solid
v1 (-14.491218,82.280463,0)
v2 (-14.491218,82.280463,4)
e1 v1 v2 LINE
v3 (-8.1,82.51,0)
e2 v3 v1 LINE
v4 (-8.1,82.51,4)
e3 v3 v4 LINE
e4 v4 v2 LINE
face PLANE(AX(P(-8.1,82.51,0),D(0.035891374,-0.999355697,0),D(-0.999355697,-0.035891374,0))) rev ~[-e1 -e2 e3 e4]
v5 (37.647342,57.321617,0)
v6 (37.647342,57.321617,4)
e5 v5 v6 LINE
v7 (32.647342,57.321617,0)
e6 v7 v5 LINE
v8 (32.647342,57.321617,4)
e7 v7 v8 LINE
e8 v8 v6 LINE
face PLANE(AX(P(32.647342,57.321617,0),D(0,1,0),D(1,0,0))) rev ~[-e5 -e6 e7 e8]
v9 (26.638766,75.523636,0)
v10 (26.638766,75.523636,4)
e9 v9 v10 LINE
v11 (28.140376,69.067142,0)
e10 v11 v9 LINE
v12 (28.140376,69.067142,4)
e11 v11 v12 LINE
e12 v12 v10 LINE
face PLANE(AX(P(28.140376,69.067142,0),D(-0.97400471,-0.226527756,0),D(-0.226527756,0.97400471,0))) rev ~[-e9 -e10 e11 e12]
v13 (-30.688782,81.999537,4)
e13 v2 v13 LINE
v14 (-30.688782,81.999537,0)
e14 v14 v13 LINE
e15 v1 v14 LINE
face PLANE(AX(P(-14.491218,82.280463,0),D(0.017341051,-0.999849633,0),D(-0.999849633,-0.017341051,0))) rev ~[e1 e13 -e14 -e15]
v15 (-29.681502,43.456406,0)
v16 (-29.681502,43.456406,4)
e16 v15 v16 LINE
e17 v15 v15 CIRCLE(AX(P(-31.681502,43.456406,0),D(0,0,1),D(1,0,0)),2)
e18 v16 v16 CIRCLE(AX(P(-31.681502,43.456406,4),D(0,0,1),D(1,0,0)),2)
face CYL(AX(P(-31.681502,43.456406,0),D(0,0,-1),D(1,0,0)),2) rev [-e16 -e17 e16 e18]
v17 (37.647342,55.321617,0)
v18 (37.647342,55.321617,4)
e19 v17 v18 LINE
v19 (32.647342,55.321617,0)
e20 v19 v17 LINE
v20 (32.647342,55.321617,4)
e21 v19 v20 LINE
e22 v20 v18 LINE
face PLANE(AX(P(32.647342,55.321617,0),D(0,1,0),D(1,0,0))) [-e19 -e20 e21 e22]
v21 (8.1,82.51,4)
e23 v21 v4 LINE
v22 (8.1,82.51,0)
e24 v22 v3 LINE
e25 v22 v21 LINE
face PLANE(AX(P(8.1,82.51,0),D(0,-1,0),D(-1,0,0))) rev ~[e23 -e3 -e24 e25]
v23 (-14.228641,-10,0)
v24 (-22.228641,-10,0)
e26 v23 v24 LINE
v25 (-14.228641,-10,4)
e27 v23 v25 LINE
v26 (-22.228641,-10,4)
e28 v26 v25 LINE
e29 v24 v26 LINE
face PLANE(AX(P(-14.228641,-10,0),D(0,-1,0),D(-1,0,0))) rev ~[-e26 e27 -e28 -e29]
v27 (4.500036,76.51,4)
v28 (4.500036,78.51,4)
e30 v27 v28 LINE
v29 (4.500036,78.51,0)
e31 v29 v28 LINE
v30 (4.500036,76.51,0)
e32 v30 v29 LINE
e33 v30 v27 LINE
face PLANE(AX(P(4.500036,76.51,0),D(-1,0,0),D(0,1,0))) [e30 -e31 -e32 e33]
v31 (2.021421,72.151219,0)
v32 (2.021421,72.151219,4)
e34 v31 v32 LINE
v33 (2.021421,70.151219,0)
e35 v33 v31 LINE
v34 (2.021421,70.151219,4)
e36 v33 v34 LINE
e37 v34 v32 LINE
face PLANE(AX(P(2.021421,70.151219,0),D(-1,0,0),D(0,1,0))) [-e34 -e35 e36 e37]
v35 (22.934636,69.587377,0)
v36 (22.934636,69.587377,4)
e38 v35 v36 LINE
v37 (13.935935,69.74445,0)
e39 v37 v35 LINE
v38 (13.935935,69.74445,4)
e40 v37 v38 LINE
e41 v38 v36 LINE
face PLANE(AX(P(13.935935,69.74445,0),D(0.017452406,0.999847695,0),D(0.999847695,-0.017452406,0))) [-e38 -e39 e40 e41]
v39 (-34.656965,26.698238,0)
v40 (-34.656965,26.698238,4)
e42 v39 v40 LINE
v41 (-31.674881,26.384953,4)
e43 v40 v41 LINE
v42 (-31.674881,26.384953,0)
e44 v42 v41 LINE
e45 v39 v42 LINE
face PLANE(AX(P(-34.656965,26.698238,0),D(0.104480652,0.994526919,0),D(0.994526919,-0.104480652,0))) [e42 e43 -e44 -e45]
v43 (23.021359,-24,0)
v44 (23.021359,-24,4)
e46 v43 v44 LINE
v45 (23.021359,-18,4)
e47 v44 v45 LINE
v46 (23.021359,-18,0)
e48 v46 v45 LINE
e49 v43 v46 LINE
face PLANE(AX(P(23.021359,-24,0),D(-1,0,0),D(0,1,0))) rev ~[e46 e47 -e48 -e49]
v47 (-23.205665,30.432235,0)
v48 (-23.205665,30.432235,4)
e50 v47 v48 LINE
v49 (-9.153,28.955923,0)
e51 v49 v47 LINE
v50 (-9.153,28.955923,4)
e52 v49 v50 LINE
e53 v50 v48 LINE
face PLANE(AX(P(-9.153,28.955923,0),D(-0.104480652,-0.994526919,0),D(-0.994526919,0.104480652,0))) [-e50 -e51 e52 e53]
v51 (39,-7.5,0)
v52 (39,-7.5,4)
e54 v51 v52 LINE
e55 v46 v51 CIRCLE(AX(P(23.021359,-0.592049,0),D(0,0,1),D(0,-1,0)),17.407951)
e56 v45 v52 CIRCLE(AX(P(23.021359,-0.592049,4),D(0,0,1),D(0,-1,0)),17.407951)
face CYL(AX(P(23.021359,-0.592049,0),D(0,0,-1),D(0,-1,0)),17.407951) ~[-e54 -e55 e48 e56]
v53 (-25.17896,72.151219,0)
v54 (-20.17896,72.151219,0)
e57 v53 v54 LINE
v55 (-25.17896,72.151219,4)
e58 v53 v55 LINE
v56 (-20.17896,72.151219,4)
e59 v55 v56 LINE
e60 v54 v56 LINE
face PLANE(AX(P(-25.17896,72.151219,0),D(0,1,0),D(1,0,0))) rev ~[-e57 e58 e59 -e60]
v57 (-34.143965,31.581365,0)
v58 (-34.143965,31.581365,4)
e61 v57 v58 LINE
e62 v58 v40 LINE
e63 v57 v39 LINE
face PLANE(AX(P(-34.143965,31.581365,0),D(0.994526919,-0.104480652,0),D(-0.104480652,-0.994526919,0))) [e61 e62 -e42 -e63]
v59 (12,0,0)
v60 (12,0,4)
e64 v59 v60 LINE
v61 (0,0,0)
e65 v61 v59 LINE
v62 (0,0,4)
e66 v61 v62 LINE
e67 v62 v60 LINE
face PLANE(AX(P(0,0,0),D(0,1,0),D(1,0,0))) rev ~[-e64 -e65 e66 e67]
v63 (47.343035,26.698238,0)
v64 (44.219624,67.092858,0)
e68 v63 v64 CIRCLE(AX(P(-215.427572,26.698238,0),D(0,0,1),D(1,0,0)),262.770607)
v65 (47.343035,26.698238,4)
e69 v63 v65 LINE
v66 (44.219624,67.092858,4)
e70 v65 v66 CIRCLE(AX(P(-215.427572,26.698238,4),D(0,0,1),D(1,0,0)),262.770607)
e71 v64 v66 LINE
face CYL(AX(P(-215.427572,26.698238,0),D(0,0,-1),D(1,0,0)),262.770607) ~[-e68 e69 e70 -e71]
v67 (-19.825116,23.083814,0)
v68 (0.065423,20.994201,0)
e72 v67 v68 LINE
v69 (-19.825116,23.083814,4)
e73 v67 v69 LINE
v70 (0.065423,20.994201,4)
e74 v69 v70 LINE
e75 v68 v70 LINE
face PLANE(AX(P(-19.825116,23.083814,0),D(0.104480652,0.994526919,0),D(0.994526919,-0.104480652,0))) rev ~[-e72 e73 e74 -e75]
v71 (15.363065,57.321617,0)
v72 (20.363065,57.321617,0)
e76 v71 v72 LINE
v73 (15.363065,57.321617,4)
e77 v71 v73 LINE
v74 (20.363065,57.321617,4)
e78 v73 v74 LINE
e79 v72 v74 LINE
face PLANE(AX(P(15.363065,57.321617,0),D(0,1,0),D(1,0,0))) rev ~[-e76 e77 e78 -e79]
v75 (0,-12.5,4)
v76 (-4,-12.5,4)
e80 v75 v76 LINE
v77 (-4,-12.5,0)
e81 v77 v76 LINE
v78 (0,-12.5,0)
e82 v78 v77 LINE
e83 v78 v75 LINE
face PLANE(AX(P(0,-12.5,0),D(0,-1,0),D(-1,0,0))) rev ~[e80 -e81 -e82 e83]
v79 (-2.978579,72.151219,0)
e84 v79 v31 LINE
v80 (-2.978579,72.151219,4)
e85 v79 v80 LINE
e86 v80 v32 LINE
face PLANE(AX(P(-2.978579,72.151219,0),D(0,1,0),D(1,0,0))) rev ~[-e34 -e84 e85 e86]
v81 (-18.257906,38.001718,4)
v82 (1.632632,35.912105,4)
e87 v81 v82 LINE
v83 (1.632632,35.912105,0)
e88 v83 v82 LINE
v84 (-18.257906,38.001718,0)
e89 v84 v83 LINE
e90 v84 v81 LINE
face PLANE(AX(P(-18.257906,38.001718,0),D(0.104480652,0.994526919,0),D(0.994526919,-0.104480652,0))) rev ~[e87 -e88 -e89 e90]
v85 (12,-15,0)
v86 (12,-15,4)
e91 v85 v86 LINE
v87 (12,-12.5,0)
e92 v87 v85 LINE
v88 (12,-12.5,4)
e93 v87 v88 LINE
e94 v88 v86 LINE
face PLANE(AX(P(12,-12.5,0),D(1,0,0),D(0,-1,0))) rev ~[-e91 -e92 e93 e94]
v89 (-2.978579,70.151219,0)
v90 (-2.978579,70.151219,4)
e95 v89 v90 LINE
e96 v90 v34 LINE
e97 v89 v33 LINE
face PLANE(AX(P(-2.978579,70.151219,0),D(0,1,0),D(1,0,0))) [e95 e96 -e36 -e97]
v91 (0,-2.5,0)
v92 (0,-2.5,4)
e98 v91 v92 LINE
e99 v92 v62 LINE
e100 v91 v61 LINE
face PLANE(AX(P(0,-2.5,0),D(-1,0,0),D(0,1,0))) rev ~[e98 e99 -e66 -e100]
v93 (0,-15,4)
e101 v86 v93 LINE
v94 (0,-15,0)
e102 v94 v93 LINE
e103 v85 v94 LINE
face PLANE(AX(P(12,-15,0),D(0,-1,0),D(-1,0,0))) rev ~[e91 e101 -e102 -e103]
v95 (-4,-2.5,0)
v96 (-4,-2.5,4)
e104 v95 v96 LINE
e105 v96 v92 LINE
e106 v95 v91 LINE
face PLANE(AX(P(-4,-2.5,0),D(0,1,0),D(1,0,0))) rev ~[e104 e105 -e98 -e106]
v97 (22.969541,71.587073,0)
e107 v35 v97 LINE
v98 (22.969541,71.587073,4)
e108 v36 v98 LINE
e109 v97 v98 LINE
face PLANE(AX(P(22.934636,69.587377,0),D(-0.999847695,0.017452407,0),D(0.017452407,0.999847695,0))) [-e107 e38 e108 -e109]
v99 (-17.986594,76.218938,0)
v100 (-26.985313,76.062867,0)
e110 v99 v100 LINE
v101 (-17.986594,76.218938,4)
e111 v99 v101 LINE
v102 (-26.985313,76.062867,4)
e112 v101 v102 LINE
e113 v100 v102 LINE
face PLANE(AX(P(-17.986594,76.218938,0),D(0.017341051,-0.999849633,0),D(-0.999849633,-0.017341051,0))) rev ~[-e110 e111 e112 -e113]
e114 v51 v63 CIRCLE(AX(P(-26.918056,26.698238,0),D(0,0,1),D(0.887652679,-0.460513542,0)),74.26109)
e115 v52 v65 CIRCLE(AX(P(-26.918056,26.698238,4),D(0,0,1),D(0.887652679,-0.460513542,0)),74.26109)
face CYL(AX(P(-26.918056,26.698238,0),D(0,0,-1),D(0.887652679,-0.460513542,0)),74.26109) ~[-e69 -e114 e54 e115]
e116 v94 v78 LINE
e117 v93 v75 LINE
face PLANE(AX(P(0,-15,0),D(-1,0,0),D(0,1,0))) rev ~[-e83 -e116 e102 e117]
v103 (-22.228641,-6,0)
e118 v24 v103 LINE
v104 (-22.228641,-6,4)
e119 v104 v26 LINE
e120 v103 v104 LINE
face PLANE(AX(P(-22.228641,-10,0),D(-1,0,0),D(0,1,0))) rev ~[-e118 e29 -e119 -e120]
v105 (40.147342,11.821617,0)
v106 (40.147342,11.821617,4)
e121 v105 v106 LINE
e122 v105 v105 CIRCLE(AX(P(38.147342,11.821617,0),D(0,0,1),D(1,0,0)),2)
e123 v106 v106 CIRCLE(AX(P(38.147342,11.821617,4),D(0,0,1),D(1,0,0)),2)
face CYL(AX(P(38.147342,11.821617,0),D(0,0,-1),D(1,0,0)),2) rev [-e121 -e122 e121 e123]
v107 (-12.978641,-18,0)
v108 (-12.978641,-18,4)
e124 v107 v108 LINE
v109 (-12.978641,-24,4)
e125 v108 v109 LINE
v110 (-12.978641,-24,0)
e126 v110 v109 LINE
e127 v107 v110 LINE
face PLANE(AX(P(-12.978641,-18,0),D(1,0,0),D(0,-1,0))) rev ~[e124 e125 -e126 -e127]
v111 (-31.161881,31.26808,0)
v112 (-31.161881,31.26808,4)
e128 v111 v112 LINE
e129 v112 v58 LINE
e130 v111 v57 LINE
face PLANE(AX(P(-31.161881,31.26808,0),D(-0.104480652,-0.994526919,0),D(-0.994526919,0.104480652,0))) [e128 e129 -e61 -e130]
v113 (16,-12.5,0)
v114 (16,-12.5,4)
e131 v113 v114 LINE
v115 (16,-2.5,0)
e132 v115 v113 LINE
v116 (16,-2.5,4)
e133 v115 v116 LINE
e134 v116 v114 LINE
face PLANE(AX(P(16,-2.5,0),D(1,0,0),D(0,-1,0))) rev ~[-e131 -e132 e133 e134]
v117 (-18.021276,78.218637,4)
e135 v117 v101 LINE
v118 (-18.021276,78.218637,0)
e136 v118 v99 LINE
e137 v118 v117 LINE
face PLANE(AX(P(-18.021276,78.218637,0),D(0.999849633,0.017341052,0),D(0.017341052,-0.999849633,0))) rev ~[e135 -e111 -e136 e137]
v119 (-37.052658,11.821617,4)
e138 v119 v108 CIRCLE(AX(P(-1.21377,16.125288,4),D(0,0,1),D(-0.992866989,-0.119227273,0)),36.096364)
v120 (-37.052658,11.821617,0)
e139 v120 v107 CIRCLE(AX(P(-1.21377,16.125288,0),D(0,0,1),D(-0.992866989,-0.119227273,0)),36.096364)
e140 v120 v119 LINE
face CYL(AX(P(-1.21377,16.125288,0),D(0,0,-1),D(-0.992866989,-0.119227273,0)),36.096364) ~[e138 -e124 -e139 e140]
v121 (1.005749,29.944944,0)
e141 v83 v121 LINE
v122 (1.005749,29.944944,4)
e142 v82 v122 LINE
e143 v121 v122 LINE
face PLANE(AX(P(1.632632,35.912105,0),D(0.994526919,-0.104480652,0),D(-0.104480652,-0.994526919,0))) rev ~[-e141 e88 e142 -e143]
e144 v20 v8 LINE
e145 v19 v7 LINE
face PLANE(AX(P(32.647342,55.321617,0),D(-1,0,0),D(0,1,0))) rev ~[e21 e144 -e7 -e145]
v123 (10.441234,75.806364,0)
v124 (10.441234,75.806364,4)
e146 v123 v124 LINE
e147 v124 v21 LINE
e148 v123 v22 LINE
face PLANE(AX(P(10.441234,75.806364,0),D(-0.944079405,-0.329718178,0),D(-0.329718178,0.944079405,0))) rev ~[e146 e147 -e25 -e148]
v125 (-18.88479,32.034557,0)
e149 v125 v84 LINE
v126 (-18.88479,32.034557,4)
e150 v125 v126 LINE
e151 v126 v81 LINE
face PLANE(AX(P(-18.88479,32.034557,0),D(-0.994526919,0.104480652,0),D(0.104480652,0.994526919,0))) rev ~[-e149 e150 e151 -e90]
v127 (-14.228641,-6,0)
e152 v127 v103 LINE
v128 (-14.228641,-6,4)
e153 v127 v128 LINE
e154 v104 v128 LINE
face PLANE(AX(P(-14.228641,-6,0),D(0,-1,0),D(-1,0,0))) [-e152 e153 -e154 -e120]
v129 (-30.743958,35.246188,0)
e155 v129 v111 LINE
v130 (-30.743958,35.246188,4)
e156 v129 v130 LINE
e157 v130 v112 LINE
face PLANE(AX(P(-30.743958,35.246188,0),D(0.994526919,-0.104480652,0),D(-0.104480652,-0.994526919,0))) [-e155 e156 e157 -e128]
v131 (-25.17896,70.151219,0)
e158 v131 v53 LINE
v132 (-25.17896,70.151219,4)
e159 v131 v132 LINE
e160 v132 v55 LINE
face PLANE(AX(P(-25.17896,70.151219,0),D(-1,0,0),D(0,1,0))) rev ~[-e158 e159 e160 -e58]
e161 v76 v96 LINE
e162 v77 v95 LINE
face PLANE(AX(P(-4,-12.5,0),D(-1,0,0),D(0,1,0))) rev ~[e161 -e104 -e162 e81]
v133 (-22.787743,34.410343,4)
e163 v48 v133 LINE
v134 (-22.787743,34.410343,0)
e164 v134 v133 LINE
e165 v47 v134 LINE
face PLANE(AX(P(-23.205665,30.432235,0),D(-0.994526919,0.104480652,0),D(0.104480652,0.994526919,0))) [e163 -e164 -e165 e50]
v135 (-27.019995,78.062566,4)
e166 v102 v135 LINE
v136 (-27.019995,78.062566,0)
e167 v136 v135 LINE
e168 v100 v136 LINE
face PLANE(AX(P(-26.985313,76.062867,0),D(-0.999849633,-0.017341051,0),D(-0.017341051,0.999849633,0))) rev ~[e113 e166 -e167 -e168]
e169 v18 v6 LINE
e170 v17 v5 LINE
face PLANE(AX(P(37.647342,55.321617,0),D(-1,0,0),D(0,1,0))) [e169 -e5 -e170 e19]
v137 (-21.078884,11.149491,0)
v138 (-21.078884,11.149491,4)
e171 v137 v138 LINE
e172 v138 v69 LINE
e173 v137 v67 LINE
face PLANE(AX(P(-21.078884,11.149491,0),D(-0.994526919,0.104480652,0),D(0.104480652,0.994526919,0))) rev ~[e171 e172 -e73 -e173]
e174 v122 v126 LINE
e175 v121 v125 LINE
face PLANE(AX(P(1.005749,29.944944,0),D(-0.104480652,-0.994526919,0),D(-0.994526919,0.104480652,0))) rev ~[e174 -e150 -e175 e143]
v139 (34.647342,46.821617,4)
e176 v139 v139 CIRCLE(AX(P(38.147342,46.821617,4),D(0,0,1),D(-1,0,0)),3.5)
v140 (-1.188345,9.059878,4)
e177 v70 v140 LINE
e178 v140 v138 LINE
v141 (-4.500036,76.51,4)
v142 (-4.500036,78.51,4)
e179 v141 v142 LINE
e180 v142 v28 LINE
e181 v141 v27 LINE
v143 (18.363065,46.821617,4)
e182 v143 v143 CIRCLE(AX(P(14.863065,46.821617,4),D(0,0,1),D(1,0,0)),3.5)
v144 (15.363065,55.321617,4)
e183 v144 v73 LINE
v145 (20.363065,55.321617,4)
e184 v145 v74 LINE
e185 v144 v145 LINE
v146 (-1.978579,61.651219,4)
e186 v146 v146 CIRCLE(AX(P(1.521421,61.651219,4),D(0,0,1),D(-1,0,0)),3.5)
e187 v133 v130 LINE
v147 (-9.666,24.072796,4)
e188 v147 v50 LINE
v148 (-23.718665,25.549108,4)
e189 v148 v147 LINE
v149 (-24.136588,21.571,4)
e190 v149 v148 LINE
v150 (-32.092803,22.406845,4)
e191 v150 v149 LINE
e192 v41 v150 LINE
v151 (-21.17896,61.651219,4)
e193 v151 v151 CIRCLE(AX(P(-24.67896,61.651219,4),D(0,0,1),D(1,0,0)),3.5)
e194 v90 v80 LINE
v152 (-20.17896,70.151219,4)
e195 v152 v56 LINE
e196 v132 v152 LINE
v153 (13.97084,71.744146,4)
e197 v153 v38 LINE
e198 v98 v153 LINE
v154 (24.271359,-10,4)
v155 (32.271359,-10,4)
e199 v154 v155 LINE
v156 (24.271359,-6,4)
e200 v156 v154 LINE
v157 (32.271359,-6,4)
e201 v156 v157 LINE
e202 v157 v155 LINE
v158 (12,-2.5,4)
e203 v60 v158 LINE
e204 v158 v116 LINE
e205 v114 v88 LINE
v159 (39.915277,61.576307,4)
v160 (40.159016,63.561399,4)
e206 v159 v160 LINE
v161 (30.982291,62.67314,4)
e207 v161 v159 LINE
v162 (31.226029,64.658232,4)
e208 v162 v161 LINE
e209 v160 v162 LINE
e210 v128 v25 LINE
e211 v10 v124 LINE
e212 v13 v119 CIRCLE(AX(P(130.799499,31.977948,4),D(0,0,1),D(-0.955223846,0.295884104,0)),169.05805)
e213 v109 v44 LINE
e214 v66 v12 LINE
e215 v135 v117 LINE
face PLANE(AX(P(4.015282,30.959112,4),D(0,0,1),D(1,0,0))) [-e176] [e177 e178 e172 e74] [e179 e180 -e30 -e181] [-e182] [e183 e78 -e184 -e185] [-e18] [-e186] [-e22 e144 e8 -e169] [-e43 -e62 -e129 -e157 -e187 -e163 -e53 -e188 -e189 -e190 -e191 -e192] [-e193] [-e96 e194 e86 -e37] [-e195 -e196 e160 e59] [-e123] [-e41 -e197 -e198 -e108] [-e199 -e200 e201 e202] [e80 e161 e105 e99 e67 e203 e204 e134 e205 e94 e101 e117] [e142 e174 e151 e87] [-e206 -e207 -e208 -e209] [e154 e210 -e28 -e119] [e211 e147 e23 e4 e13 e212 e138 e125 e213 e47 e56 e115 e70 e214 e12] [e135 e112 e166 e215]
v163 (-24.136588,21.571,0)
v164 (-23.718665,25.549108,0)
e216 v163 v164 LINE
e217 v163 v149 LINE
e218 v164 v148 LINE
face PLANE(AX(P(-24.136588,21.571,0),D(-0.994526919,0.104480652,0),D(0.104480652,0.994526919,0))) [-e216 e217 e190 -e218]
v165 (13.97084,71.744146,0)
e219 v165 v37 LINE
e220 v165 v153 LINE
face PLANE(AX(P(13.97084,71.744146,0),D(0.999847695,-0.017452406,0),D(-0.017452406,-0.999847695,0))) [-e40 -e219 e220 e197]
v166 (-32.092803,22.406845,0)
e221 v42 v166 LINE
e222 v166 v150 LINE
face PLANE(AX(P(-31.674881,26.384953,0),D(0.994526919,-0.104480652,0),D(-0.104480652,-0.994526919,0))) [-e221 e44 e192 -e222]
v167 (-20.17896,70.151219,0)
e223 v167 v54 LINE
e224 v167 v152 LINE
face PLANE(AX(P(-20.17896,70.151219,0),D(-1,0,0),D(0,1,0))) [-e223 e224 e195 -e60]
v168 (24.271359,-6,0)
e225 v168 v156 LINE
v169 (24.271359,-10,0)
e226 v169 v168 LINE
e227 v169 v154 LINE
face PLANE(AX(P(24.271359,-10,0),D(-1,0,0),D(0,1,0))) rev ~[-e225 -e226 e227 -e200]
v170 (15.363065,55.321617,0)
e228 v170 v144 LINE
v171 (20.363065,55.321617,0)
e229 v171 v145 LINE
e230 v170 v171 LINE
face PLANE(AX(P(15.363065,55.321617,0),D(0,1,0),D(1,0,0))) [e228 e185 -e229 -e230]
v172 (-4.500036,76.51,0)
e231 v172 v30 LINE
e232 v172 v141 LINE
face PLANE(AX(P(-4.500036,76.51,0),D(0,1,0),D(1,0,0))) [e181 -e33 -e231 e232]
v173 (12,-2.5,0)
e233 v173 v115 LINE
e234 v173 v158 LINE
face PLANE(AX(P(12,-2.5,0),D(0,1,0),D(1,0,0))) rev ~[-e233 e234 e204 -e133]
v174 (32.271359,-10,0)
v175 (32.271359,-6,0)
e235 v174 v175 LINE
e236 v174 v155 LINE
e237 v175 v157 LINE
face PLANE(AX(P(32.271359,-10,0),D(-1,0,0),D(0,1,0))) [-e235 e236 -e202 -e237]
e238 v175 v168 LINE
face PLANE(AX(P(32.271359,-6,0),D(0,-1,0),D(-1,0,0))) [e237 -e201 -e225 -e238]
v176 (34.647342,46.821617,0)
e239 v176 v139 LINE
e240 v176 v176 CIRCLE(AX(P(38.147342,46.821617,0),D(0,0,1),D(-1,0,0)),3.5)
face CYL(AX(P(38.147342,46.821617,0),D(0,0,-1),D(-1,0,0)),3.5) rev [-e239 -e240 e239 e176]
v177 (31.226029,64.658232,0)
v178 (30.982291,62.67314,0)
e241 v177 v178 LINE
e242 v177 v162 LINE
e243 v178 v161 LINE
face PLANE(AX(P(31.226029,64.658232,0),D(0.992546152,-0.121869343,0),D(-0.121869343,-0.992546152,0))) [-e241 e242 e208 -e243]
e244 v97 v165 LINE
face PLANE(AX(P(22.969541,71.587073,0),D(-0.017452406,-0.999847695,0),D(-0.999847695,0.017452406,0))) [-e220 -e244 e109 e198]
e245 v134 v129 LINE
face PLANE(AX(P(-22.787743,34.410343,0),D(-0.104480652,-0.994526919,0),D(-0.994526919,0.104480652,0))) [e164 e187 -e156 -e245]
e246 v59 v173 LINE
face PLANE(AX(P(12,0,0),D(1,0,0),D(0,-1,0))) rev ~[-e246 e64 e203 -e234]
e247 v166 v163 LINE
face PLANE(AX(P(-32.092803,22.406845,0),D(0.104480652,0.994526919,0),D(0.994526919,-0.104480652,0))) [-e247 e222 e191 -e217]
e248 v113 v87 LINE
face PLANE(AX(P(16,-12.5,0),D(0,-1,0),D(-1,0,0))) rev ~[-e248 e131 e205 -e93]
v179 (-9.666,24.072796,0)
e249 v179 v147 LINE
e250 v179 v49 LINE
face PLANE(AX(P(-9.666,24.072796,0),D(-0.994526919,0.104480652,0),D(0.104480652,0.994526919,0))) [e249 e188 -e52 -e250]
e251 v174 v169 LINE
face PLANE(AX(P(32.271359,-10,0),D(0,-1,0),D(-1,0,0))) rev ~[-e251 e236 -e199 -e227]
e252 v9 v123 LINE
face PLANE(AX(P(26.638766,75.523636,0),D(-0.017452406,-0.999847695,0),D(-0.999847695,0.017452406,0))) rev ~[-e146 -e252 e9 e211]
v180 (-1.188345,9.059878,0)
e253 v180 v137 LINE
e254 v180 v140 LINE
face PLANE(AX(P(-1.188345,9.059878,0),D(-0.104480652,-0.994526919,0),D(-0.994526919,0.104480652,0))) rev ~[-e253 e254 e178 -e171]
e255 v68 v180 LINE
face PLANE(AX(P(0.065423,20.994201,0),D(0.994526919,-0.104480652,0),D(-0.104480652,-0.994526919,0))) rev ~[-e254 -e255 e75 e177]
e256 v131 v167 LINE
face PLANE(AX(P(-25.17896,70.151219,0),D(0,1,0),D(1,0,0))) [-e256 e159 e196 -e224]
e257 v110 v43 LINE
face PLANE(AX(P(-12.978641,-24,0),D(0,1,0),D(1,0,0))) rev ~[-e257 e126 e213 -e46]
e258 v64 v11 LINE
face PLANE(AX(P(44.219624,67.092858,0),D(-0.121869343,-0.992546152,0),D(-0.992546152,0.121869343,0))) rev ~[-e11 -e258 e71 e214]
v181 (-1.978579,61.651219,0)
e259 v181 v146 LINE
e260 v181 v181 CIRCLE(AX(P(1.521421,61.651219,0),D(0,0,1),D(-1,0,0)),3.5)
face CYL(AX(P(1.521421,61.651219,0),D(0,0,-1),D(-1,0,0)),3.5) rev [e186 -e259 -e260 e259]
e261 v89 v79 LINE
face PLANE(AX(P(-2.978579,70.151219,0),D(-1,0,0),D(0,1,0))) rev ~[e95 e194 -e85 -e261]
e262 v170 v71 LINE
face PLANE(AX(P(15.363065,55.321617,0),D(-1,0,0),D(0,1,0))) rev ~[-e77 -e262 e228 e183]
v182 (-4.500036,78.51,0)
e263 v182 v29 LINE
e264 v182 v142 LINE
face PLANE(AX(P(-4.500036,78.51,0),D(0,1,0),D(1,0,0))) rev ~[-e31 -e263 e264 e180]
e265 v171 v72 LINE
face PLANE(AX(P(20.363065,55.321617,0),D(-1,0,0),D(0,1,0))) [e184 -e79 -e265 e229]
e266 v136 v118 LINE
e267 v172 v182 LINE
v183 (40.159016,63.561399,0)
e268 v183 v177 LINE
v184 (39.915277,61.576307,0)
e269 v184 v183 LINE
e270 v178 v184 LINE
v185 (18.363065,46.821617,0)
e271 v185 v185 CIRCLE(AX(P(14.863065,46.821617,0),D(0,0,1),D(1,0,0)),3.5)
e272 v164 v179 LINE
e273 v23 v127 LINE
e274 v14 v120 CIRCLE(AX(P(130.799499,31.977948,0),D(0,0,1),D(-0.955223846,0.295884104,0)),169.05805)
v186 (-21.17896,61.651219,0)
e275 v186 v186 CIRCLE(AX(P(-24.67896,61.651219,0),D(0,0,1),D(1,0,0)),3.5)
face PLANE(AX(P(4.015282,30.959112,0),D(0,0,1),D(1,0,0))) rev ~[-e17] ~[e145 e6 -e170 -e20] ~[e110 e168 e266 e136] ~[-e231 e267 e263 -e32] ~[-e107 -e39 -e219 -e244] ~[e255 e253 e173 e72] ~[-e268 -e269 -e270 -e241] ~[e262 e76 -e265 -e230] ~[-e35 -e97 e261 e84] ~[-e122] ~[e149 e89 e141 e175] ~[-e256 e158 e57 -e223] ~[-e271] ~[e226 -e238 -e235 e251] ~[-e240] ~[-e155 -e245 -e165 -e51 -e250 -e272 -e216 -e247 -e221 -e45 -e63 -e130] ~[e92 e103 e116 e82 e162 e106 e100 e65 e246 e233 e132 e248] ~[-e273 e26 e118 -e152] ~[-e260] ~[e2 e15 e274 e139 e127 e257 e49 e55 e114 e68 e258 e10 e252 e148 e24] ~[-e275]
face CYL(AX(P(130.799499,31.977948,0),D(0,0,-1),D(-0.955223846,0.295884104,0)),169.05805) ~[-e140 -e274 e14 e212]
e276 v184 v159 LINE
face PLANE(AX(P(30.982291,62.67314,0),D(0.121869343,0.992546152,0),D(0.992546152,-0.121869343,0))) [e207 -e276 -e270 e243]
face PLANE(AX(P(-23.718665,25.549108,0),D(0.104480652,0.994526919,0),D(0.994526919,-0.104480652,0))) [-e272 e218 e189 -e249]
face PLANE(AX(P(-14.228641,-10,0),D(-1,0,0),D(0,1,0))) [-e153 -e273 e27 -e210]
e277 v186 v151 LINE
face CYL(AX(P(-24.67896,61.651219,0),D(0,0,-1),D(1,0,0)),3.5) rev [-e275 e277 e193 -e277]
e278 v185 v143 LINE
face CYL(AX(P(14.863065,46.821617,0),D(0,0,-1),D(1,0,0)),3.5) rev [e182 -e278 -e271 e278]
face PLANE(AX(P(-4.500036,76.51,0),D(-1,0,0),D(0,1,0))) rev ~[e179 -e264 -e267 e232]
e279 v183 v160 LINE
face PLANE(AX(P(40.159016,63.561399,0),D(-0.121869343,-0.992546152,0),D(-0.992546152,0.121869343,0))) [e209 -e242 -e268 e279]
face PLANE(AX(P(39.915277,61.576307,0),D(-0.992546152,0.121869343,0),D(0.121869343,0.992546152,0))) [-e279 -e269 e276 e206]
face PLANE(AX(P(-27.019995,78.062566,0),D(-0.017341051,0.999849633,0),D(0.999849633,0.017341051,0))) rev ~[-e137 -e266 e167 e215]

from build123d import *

# Parameters (mm, degrees)
SKETCH1_R           = 2
SKETCH1_R_2         = 3.5
SKETCH1_W           = 9.000072
SKETCH1_H           = 2
SKETCH1_W_2         = 5
BOSS_EXTRUDE1_DEPTH = 4
SKETCH2_W           = 8
SKETCH2_H           = 4
CUT_EXTRUDE1_DEPTH  = 96.21167482


with BuildPart() as part:
    # Sketch1 → Boss-Extrude1 (new body)
    with BuildSketch(Plane.XY):
        with BuildLine():
            Line((-12.978640908, -18), (-12.978640908, -24))
            Line((-12.978640908, -24), (23.021359092, -24))
            Line((23.021359092, -24), (23.021359092, -18))
            ThreePointArc((23.021359092, -18), (32.58126188, -15.140073441), (39, -7.5))
            ThreePointArc((39, -7.5), (45.227131985, 9.097629123), (47.343034567, 26.698237678))
            ThreePointArc((47.343034567, 26.698237678), (46.561018226, 46.955835458), (44.219623828, 67.092858318))
            Line((44.219623828, 67.092858318), (28.140376172, 69.067141682))
            Line((28.140376172, 69.067141682), (26.638766331, 75.523635508))
            Line((26.638766331, 75.523635508), (10.441233669, 75.806364492))
            Line((10.441233669, 75.806364492), (8.1, 82.51))
            Line((8.1, 82.51), (-8.1, 82.51))
            Line((-8.1, 82.51), (-14.491217975, 82.280462515))
            Line((-14.491217975, 82.280462515), (-30.688782025, 81.999537485))
            ThreePointArc((-30.688782025, 81.999537485), (-37.567707395, 47.245827753), (-37.052658257, 11.821617405))
            ThreePointArc((-37.052658257, 11.821617405), (-29.300451665, -6.548172019), (-12.978640908, -18))
        make_face()
        with Locations((38.147341743, 11.821617405)):
            Circle(SKETCH1_R, mode=Mode.SUBTRACT)
        with Locations((-24.678960076, 61.651218734)):
            Circle(SKETCH1_R_2, mode=Mode.SUBTRACT)
        with Locations((1.521420673, 61.651218734)):
            Circle(SKETCH1_R_2, mode=Mode.SUBTRACT)
        with Locations((14.86306514, 46.821617405)):
            Circle(SKETCH1_R_2, mode=Mode.SUBTRACT)
        with Locations((38.147341743, 46.821617405)):
            Circle(SKETCH1_R_2, mode=Mode.SUBTRACT)
        with Locations((-31.681501662, 43.456405989)):
            Circle(SKETCH1_R, mode=Mode.SUBTRACT)
        with Locations((0, 77.51)):
            Rectangle(SKETCH1_W, SKETCH1_H, mode=Mode.SUBTRACT)
        Polygon((-4, -2.5), (0, -2.5), (0, 0), (12, 0), (12, -2.5), (16, -2.5), (16, -12.5), (12, -12.5), (12, -15), (0, -15), (0, -12.5), (-4, -12.5), align=None, mode=Mode.SUBTRACT)
        with Locations((35.147341743, 56.321617405)):
            Rectangle(SKETCH1_W_2, SKETCH1_H, mode=Mode.SUBTRACT)
        Polygon((-27.019995137, 78.062566115), (-18.021276454, 78.218636824), (-17.986594351, 76.218937559), (-26.985313034, 76.062866849), align=None, mode=Mode.SUBTRACT)
        with Locations((17.86306514, 56.321617405)):
            Rectangle(SKETCH1_W_2, SKETCH1_H, mode=Mode.SUBTRACT)
        with Locations((-0.478579327, 71.151218734)):
            Rectangle(SKETCH1_W_2, SKETCH1_H, mode=Mode.SUBTRACT)
        Polygon((13.970839752, 71.744145677), (13.935934939, 69.744450286), (22.934636184, 69.587377372), (22.969540997, 71.587072762), align=None, mode=Mode.SUBTRACT)
        Polygon((40.15901604, 63.561398961), (31.226029212, 64.658231826), (30.982290526, 62.673139523), (39.915277354, 61.576306658), align=None, mode=Mode.SUBTRACT)
        Polygon((1.632632483, 35.912105076), (1.005748572, 29.944943559), (-18.884789816, 32.034556594), (-18.257905905, 38.00171811), align=None, mode=Mode.SUBTRACT)
        with Locations((-22.678960076, 71.151218734)):
            Rectangle(SKETCH1_W_2, SKETCH1_H, mode=Mode.SUBTRACT)
        Polygon((0.065422707, 20.994201285), (-1.188345114, 9.059878252), (-21.078883502, 11.149491286), (-19.825115681, 23.083814319), align=None, mode=Mode.SUBTRACT)
        Polygon((-9.666, 24.072796069), (-9.153, 28.955923243), (-23.205665371, 30.432234852), (-22.787742764, 34.410342529), (-30.743958119, 35.246187743), (-31.161880726, 31.268080066), (-34.143965433, 31.581364852), (-34.656965433, 26.698237678), (-31.674880726, 26.384952891), (-32.092803333, 22.406845214), (-24.136587978, 21.571), (-23.718665371, 25.549107678), align=None, mode=Mode.SUBTRACT)
    extrude(amount=BOSS_EXTRUDE1_DEPTH)

    # Sketch2 → Cut-Extrude1 (cut, through all)
    with BuildSketch(Plane(origin=(0, 0, 0), x_dir=(-1, 0, 0), z_dir=(0, 0, -1))):
        with Locations((-28.271359092, -8)):
            Rectangle(SKETCH2_W, SKETCH2_H)
        with Locations((18.228640908, -8)):
            Rectangle(SKETCH2_W, SKETCH2_H)
    extrude(amount=-CUT_EXTRUDE1_DEPTH, mode=Mode.SUBTRACT)


solid = part.part
